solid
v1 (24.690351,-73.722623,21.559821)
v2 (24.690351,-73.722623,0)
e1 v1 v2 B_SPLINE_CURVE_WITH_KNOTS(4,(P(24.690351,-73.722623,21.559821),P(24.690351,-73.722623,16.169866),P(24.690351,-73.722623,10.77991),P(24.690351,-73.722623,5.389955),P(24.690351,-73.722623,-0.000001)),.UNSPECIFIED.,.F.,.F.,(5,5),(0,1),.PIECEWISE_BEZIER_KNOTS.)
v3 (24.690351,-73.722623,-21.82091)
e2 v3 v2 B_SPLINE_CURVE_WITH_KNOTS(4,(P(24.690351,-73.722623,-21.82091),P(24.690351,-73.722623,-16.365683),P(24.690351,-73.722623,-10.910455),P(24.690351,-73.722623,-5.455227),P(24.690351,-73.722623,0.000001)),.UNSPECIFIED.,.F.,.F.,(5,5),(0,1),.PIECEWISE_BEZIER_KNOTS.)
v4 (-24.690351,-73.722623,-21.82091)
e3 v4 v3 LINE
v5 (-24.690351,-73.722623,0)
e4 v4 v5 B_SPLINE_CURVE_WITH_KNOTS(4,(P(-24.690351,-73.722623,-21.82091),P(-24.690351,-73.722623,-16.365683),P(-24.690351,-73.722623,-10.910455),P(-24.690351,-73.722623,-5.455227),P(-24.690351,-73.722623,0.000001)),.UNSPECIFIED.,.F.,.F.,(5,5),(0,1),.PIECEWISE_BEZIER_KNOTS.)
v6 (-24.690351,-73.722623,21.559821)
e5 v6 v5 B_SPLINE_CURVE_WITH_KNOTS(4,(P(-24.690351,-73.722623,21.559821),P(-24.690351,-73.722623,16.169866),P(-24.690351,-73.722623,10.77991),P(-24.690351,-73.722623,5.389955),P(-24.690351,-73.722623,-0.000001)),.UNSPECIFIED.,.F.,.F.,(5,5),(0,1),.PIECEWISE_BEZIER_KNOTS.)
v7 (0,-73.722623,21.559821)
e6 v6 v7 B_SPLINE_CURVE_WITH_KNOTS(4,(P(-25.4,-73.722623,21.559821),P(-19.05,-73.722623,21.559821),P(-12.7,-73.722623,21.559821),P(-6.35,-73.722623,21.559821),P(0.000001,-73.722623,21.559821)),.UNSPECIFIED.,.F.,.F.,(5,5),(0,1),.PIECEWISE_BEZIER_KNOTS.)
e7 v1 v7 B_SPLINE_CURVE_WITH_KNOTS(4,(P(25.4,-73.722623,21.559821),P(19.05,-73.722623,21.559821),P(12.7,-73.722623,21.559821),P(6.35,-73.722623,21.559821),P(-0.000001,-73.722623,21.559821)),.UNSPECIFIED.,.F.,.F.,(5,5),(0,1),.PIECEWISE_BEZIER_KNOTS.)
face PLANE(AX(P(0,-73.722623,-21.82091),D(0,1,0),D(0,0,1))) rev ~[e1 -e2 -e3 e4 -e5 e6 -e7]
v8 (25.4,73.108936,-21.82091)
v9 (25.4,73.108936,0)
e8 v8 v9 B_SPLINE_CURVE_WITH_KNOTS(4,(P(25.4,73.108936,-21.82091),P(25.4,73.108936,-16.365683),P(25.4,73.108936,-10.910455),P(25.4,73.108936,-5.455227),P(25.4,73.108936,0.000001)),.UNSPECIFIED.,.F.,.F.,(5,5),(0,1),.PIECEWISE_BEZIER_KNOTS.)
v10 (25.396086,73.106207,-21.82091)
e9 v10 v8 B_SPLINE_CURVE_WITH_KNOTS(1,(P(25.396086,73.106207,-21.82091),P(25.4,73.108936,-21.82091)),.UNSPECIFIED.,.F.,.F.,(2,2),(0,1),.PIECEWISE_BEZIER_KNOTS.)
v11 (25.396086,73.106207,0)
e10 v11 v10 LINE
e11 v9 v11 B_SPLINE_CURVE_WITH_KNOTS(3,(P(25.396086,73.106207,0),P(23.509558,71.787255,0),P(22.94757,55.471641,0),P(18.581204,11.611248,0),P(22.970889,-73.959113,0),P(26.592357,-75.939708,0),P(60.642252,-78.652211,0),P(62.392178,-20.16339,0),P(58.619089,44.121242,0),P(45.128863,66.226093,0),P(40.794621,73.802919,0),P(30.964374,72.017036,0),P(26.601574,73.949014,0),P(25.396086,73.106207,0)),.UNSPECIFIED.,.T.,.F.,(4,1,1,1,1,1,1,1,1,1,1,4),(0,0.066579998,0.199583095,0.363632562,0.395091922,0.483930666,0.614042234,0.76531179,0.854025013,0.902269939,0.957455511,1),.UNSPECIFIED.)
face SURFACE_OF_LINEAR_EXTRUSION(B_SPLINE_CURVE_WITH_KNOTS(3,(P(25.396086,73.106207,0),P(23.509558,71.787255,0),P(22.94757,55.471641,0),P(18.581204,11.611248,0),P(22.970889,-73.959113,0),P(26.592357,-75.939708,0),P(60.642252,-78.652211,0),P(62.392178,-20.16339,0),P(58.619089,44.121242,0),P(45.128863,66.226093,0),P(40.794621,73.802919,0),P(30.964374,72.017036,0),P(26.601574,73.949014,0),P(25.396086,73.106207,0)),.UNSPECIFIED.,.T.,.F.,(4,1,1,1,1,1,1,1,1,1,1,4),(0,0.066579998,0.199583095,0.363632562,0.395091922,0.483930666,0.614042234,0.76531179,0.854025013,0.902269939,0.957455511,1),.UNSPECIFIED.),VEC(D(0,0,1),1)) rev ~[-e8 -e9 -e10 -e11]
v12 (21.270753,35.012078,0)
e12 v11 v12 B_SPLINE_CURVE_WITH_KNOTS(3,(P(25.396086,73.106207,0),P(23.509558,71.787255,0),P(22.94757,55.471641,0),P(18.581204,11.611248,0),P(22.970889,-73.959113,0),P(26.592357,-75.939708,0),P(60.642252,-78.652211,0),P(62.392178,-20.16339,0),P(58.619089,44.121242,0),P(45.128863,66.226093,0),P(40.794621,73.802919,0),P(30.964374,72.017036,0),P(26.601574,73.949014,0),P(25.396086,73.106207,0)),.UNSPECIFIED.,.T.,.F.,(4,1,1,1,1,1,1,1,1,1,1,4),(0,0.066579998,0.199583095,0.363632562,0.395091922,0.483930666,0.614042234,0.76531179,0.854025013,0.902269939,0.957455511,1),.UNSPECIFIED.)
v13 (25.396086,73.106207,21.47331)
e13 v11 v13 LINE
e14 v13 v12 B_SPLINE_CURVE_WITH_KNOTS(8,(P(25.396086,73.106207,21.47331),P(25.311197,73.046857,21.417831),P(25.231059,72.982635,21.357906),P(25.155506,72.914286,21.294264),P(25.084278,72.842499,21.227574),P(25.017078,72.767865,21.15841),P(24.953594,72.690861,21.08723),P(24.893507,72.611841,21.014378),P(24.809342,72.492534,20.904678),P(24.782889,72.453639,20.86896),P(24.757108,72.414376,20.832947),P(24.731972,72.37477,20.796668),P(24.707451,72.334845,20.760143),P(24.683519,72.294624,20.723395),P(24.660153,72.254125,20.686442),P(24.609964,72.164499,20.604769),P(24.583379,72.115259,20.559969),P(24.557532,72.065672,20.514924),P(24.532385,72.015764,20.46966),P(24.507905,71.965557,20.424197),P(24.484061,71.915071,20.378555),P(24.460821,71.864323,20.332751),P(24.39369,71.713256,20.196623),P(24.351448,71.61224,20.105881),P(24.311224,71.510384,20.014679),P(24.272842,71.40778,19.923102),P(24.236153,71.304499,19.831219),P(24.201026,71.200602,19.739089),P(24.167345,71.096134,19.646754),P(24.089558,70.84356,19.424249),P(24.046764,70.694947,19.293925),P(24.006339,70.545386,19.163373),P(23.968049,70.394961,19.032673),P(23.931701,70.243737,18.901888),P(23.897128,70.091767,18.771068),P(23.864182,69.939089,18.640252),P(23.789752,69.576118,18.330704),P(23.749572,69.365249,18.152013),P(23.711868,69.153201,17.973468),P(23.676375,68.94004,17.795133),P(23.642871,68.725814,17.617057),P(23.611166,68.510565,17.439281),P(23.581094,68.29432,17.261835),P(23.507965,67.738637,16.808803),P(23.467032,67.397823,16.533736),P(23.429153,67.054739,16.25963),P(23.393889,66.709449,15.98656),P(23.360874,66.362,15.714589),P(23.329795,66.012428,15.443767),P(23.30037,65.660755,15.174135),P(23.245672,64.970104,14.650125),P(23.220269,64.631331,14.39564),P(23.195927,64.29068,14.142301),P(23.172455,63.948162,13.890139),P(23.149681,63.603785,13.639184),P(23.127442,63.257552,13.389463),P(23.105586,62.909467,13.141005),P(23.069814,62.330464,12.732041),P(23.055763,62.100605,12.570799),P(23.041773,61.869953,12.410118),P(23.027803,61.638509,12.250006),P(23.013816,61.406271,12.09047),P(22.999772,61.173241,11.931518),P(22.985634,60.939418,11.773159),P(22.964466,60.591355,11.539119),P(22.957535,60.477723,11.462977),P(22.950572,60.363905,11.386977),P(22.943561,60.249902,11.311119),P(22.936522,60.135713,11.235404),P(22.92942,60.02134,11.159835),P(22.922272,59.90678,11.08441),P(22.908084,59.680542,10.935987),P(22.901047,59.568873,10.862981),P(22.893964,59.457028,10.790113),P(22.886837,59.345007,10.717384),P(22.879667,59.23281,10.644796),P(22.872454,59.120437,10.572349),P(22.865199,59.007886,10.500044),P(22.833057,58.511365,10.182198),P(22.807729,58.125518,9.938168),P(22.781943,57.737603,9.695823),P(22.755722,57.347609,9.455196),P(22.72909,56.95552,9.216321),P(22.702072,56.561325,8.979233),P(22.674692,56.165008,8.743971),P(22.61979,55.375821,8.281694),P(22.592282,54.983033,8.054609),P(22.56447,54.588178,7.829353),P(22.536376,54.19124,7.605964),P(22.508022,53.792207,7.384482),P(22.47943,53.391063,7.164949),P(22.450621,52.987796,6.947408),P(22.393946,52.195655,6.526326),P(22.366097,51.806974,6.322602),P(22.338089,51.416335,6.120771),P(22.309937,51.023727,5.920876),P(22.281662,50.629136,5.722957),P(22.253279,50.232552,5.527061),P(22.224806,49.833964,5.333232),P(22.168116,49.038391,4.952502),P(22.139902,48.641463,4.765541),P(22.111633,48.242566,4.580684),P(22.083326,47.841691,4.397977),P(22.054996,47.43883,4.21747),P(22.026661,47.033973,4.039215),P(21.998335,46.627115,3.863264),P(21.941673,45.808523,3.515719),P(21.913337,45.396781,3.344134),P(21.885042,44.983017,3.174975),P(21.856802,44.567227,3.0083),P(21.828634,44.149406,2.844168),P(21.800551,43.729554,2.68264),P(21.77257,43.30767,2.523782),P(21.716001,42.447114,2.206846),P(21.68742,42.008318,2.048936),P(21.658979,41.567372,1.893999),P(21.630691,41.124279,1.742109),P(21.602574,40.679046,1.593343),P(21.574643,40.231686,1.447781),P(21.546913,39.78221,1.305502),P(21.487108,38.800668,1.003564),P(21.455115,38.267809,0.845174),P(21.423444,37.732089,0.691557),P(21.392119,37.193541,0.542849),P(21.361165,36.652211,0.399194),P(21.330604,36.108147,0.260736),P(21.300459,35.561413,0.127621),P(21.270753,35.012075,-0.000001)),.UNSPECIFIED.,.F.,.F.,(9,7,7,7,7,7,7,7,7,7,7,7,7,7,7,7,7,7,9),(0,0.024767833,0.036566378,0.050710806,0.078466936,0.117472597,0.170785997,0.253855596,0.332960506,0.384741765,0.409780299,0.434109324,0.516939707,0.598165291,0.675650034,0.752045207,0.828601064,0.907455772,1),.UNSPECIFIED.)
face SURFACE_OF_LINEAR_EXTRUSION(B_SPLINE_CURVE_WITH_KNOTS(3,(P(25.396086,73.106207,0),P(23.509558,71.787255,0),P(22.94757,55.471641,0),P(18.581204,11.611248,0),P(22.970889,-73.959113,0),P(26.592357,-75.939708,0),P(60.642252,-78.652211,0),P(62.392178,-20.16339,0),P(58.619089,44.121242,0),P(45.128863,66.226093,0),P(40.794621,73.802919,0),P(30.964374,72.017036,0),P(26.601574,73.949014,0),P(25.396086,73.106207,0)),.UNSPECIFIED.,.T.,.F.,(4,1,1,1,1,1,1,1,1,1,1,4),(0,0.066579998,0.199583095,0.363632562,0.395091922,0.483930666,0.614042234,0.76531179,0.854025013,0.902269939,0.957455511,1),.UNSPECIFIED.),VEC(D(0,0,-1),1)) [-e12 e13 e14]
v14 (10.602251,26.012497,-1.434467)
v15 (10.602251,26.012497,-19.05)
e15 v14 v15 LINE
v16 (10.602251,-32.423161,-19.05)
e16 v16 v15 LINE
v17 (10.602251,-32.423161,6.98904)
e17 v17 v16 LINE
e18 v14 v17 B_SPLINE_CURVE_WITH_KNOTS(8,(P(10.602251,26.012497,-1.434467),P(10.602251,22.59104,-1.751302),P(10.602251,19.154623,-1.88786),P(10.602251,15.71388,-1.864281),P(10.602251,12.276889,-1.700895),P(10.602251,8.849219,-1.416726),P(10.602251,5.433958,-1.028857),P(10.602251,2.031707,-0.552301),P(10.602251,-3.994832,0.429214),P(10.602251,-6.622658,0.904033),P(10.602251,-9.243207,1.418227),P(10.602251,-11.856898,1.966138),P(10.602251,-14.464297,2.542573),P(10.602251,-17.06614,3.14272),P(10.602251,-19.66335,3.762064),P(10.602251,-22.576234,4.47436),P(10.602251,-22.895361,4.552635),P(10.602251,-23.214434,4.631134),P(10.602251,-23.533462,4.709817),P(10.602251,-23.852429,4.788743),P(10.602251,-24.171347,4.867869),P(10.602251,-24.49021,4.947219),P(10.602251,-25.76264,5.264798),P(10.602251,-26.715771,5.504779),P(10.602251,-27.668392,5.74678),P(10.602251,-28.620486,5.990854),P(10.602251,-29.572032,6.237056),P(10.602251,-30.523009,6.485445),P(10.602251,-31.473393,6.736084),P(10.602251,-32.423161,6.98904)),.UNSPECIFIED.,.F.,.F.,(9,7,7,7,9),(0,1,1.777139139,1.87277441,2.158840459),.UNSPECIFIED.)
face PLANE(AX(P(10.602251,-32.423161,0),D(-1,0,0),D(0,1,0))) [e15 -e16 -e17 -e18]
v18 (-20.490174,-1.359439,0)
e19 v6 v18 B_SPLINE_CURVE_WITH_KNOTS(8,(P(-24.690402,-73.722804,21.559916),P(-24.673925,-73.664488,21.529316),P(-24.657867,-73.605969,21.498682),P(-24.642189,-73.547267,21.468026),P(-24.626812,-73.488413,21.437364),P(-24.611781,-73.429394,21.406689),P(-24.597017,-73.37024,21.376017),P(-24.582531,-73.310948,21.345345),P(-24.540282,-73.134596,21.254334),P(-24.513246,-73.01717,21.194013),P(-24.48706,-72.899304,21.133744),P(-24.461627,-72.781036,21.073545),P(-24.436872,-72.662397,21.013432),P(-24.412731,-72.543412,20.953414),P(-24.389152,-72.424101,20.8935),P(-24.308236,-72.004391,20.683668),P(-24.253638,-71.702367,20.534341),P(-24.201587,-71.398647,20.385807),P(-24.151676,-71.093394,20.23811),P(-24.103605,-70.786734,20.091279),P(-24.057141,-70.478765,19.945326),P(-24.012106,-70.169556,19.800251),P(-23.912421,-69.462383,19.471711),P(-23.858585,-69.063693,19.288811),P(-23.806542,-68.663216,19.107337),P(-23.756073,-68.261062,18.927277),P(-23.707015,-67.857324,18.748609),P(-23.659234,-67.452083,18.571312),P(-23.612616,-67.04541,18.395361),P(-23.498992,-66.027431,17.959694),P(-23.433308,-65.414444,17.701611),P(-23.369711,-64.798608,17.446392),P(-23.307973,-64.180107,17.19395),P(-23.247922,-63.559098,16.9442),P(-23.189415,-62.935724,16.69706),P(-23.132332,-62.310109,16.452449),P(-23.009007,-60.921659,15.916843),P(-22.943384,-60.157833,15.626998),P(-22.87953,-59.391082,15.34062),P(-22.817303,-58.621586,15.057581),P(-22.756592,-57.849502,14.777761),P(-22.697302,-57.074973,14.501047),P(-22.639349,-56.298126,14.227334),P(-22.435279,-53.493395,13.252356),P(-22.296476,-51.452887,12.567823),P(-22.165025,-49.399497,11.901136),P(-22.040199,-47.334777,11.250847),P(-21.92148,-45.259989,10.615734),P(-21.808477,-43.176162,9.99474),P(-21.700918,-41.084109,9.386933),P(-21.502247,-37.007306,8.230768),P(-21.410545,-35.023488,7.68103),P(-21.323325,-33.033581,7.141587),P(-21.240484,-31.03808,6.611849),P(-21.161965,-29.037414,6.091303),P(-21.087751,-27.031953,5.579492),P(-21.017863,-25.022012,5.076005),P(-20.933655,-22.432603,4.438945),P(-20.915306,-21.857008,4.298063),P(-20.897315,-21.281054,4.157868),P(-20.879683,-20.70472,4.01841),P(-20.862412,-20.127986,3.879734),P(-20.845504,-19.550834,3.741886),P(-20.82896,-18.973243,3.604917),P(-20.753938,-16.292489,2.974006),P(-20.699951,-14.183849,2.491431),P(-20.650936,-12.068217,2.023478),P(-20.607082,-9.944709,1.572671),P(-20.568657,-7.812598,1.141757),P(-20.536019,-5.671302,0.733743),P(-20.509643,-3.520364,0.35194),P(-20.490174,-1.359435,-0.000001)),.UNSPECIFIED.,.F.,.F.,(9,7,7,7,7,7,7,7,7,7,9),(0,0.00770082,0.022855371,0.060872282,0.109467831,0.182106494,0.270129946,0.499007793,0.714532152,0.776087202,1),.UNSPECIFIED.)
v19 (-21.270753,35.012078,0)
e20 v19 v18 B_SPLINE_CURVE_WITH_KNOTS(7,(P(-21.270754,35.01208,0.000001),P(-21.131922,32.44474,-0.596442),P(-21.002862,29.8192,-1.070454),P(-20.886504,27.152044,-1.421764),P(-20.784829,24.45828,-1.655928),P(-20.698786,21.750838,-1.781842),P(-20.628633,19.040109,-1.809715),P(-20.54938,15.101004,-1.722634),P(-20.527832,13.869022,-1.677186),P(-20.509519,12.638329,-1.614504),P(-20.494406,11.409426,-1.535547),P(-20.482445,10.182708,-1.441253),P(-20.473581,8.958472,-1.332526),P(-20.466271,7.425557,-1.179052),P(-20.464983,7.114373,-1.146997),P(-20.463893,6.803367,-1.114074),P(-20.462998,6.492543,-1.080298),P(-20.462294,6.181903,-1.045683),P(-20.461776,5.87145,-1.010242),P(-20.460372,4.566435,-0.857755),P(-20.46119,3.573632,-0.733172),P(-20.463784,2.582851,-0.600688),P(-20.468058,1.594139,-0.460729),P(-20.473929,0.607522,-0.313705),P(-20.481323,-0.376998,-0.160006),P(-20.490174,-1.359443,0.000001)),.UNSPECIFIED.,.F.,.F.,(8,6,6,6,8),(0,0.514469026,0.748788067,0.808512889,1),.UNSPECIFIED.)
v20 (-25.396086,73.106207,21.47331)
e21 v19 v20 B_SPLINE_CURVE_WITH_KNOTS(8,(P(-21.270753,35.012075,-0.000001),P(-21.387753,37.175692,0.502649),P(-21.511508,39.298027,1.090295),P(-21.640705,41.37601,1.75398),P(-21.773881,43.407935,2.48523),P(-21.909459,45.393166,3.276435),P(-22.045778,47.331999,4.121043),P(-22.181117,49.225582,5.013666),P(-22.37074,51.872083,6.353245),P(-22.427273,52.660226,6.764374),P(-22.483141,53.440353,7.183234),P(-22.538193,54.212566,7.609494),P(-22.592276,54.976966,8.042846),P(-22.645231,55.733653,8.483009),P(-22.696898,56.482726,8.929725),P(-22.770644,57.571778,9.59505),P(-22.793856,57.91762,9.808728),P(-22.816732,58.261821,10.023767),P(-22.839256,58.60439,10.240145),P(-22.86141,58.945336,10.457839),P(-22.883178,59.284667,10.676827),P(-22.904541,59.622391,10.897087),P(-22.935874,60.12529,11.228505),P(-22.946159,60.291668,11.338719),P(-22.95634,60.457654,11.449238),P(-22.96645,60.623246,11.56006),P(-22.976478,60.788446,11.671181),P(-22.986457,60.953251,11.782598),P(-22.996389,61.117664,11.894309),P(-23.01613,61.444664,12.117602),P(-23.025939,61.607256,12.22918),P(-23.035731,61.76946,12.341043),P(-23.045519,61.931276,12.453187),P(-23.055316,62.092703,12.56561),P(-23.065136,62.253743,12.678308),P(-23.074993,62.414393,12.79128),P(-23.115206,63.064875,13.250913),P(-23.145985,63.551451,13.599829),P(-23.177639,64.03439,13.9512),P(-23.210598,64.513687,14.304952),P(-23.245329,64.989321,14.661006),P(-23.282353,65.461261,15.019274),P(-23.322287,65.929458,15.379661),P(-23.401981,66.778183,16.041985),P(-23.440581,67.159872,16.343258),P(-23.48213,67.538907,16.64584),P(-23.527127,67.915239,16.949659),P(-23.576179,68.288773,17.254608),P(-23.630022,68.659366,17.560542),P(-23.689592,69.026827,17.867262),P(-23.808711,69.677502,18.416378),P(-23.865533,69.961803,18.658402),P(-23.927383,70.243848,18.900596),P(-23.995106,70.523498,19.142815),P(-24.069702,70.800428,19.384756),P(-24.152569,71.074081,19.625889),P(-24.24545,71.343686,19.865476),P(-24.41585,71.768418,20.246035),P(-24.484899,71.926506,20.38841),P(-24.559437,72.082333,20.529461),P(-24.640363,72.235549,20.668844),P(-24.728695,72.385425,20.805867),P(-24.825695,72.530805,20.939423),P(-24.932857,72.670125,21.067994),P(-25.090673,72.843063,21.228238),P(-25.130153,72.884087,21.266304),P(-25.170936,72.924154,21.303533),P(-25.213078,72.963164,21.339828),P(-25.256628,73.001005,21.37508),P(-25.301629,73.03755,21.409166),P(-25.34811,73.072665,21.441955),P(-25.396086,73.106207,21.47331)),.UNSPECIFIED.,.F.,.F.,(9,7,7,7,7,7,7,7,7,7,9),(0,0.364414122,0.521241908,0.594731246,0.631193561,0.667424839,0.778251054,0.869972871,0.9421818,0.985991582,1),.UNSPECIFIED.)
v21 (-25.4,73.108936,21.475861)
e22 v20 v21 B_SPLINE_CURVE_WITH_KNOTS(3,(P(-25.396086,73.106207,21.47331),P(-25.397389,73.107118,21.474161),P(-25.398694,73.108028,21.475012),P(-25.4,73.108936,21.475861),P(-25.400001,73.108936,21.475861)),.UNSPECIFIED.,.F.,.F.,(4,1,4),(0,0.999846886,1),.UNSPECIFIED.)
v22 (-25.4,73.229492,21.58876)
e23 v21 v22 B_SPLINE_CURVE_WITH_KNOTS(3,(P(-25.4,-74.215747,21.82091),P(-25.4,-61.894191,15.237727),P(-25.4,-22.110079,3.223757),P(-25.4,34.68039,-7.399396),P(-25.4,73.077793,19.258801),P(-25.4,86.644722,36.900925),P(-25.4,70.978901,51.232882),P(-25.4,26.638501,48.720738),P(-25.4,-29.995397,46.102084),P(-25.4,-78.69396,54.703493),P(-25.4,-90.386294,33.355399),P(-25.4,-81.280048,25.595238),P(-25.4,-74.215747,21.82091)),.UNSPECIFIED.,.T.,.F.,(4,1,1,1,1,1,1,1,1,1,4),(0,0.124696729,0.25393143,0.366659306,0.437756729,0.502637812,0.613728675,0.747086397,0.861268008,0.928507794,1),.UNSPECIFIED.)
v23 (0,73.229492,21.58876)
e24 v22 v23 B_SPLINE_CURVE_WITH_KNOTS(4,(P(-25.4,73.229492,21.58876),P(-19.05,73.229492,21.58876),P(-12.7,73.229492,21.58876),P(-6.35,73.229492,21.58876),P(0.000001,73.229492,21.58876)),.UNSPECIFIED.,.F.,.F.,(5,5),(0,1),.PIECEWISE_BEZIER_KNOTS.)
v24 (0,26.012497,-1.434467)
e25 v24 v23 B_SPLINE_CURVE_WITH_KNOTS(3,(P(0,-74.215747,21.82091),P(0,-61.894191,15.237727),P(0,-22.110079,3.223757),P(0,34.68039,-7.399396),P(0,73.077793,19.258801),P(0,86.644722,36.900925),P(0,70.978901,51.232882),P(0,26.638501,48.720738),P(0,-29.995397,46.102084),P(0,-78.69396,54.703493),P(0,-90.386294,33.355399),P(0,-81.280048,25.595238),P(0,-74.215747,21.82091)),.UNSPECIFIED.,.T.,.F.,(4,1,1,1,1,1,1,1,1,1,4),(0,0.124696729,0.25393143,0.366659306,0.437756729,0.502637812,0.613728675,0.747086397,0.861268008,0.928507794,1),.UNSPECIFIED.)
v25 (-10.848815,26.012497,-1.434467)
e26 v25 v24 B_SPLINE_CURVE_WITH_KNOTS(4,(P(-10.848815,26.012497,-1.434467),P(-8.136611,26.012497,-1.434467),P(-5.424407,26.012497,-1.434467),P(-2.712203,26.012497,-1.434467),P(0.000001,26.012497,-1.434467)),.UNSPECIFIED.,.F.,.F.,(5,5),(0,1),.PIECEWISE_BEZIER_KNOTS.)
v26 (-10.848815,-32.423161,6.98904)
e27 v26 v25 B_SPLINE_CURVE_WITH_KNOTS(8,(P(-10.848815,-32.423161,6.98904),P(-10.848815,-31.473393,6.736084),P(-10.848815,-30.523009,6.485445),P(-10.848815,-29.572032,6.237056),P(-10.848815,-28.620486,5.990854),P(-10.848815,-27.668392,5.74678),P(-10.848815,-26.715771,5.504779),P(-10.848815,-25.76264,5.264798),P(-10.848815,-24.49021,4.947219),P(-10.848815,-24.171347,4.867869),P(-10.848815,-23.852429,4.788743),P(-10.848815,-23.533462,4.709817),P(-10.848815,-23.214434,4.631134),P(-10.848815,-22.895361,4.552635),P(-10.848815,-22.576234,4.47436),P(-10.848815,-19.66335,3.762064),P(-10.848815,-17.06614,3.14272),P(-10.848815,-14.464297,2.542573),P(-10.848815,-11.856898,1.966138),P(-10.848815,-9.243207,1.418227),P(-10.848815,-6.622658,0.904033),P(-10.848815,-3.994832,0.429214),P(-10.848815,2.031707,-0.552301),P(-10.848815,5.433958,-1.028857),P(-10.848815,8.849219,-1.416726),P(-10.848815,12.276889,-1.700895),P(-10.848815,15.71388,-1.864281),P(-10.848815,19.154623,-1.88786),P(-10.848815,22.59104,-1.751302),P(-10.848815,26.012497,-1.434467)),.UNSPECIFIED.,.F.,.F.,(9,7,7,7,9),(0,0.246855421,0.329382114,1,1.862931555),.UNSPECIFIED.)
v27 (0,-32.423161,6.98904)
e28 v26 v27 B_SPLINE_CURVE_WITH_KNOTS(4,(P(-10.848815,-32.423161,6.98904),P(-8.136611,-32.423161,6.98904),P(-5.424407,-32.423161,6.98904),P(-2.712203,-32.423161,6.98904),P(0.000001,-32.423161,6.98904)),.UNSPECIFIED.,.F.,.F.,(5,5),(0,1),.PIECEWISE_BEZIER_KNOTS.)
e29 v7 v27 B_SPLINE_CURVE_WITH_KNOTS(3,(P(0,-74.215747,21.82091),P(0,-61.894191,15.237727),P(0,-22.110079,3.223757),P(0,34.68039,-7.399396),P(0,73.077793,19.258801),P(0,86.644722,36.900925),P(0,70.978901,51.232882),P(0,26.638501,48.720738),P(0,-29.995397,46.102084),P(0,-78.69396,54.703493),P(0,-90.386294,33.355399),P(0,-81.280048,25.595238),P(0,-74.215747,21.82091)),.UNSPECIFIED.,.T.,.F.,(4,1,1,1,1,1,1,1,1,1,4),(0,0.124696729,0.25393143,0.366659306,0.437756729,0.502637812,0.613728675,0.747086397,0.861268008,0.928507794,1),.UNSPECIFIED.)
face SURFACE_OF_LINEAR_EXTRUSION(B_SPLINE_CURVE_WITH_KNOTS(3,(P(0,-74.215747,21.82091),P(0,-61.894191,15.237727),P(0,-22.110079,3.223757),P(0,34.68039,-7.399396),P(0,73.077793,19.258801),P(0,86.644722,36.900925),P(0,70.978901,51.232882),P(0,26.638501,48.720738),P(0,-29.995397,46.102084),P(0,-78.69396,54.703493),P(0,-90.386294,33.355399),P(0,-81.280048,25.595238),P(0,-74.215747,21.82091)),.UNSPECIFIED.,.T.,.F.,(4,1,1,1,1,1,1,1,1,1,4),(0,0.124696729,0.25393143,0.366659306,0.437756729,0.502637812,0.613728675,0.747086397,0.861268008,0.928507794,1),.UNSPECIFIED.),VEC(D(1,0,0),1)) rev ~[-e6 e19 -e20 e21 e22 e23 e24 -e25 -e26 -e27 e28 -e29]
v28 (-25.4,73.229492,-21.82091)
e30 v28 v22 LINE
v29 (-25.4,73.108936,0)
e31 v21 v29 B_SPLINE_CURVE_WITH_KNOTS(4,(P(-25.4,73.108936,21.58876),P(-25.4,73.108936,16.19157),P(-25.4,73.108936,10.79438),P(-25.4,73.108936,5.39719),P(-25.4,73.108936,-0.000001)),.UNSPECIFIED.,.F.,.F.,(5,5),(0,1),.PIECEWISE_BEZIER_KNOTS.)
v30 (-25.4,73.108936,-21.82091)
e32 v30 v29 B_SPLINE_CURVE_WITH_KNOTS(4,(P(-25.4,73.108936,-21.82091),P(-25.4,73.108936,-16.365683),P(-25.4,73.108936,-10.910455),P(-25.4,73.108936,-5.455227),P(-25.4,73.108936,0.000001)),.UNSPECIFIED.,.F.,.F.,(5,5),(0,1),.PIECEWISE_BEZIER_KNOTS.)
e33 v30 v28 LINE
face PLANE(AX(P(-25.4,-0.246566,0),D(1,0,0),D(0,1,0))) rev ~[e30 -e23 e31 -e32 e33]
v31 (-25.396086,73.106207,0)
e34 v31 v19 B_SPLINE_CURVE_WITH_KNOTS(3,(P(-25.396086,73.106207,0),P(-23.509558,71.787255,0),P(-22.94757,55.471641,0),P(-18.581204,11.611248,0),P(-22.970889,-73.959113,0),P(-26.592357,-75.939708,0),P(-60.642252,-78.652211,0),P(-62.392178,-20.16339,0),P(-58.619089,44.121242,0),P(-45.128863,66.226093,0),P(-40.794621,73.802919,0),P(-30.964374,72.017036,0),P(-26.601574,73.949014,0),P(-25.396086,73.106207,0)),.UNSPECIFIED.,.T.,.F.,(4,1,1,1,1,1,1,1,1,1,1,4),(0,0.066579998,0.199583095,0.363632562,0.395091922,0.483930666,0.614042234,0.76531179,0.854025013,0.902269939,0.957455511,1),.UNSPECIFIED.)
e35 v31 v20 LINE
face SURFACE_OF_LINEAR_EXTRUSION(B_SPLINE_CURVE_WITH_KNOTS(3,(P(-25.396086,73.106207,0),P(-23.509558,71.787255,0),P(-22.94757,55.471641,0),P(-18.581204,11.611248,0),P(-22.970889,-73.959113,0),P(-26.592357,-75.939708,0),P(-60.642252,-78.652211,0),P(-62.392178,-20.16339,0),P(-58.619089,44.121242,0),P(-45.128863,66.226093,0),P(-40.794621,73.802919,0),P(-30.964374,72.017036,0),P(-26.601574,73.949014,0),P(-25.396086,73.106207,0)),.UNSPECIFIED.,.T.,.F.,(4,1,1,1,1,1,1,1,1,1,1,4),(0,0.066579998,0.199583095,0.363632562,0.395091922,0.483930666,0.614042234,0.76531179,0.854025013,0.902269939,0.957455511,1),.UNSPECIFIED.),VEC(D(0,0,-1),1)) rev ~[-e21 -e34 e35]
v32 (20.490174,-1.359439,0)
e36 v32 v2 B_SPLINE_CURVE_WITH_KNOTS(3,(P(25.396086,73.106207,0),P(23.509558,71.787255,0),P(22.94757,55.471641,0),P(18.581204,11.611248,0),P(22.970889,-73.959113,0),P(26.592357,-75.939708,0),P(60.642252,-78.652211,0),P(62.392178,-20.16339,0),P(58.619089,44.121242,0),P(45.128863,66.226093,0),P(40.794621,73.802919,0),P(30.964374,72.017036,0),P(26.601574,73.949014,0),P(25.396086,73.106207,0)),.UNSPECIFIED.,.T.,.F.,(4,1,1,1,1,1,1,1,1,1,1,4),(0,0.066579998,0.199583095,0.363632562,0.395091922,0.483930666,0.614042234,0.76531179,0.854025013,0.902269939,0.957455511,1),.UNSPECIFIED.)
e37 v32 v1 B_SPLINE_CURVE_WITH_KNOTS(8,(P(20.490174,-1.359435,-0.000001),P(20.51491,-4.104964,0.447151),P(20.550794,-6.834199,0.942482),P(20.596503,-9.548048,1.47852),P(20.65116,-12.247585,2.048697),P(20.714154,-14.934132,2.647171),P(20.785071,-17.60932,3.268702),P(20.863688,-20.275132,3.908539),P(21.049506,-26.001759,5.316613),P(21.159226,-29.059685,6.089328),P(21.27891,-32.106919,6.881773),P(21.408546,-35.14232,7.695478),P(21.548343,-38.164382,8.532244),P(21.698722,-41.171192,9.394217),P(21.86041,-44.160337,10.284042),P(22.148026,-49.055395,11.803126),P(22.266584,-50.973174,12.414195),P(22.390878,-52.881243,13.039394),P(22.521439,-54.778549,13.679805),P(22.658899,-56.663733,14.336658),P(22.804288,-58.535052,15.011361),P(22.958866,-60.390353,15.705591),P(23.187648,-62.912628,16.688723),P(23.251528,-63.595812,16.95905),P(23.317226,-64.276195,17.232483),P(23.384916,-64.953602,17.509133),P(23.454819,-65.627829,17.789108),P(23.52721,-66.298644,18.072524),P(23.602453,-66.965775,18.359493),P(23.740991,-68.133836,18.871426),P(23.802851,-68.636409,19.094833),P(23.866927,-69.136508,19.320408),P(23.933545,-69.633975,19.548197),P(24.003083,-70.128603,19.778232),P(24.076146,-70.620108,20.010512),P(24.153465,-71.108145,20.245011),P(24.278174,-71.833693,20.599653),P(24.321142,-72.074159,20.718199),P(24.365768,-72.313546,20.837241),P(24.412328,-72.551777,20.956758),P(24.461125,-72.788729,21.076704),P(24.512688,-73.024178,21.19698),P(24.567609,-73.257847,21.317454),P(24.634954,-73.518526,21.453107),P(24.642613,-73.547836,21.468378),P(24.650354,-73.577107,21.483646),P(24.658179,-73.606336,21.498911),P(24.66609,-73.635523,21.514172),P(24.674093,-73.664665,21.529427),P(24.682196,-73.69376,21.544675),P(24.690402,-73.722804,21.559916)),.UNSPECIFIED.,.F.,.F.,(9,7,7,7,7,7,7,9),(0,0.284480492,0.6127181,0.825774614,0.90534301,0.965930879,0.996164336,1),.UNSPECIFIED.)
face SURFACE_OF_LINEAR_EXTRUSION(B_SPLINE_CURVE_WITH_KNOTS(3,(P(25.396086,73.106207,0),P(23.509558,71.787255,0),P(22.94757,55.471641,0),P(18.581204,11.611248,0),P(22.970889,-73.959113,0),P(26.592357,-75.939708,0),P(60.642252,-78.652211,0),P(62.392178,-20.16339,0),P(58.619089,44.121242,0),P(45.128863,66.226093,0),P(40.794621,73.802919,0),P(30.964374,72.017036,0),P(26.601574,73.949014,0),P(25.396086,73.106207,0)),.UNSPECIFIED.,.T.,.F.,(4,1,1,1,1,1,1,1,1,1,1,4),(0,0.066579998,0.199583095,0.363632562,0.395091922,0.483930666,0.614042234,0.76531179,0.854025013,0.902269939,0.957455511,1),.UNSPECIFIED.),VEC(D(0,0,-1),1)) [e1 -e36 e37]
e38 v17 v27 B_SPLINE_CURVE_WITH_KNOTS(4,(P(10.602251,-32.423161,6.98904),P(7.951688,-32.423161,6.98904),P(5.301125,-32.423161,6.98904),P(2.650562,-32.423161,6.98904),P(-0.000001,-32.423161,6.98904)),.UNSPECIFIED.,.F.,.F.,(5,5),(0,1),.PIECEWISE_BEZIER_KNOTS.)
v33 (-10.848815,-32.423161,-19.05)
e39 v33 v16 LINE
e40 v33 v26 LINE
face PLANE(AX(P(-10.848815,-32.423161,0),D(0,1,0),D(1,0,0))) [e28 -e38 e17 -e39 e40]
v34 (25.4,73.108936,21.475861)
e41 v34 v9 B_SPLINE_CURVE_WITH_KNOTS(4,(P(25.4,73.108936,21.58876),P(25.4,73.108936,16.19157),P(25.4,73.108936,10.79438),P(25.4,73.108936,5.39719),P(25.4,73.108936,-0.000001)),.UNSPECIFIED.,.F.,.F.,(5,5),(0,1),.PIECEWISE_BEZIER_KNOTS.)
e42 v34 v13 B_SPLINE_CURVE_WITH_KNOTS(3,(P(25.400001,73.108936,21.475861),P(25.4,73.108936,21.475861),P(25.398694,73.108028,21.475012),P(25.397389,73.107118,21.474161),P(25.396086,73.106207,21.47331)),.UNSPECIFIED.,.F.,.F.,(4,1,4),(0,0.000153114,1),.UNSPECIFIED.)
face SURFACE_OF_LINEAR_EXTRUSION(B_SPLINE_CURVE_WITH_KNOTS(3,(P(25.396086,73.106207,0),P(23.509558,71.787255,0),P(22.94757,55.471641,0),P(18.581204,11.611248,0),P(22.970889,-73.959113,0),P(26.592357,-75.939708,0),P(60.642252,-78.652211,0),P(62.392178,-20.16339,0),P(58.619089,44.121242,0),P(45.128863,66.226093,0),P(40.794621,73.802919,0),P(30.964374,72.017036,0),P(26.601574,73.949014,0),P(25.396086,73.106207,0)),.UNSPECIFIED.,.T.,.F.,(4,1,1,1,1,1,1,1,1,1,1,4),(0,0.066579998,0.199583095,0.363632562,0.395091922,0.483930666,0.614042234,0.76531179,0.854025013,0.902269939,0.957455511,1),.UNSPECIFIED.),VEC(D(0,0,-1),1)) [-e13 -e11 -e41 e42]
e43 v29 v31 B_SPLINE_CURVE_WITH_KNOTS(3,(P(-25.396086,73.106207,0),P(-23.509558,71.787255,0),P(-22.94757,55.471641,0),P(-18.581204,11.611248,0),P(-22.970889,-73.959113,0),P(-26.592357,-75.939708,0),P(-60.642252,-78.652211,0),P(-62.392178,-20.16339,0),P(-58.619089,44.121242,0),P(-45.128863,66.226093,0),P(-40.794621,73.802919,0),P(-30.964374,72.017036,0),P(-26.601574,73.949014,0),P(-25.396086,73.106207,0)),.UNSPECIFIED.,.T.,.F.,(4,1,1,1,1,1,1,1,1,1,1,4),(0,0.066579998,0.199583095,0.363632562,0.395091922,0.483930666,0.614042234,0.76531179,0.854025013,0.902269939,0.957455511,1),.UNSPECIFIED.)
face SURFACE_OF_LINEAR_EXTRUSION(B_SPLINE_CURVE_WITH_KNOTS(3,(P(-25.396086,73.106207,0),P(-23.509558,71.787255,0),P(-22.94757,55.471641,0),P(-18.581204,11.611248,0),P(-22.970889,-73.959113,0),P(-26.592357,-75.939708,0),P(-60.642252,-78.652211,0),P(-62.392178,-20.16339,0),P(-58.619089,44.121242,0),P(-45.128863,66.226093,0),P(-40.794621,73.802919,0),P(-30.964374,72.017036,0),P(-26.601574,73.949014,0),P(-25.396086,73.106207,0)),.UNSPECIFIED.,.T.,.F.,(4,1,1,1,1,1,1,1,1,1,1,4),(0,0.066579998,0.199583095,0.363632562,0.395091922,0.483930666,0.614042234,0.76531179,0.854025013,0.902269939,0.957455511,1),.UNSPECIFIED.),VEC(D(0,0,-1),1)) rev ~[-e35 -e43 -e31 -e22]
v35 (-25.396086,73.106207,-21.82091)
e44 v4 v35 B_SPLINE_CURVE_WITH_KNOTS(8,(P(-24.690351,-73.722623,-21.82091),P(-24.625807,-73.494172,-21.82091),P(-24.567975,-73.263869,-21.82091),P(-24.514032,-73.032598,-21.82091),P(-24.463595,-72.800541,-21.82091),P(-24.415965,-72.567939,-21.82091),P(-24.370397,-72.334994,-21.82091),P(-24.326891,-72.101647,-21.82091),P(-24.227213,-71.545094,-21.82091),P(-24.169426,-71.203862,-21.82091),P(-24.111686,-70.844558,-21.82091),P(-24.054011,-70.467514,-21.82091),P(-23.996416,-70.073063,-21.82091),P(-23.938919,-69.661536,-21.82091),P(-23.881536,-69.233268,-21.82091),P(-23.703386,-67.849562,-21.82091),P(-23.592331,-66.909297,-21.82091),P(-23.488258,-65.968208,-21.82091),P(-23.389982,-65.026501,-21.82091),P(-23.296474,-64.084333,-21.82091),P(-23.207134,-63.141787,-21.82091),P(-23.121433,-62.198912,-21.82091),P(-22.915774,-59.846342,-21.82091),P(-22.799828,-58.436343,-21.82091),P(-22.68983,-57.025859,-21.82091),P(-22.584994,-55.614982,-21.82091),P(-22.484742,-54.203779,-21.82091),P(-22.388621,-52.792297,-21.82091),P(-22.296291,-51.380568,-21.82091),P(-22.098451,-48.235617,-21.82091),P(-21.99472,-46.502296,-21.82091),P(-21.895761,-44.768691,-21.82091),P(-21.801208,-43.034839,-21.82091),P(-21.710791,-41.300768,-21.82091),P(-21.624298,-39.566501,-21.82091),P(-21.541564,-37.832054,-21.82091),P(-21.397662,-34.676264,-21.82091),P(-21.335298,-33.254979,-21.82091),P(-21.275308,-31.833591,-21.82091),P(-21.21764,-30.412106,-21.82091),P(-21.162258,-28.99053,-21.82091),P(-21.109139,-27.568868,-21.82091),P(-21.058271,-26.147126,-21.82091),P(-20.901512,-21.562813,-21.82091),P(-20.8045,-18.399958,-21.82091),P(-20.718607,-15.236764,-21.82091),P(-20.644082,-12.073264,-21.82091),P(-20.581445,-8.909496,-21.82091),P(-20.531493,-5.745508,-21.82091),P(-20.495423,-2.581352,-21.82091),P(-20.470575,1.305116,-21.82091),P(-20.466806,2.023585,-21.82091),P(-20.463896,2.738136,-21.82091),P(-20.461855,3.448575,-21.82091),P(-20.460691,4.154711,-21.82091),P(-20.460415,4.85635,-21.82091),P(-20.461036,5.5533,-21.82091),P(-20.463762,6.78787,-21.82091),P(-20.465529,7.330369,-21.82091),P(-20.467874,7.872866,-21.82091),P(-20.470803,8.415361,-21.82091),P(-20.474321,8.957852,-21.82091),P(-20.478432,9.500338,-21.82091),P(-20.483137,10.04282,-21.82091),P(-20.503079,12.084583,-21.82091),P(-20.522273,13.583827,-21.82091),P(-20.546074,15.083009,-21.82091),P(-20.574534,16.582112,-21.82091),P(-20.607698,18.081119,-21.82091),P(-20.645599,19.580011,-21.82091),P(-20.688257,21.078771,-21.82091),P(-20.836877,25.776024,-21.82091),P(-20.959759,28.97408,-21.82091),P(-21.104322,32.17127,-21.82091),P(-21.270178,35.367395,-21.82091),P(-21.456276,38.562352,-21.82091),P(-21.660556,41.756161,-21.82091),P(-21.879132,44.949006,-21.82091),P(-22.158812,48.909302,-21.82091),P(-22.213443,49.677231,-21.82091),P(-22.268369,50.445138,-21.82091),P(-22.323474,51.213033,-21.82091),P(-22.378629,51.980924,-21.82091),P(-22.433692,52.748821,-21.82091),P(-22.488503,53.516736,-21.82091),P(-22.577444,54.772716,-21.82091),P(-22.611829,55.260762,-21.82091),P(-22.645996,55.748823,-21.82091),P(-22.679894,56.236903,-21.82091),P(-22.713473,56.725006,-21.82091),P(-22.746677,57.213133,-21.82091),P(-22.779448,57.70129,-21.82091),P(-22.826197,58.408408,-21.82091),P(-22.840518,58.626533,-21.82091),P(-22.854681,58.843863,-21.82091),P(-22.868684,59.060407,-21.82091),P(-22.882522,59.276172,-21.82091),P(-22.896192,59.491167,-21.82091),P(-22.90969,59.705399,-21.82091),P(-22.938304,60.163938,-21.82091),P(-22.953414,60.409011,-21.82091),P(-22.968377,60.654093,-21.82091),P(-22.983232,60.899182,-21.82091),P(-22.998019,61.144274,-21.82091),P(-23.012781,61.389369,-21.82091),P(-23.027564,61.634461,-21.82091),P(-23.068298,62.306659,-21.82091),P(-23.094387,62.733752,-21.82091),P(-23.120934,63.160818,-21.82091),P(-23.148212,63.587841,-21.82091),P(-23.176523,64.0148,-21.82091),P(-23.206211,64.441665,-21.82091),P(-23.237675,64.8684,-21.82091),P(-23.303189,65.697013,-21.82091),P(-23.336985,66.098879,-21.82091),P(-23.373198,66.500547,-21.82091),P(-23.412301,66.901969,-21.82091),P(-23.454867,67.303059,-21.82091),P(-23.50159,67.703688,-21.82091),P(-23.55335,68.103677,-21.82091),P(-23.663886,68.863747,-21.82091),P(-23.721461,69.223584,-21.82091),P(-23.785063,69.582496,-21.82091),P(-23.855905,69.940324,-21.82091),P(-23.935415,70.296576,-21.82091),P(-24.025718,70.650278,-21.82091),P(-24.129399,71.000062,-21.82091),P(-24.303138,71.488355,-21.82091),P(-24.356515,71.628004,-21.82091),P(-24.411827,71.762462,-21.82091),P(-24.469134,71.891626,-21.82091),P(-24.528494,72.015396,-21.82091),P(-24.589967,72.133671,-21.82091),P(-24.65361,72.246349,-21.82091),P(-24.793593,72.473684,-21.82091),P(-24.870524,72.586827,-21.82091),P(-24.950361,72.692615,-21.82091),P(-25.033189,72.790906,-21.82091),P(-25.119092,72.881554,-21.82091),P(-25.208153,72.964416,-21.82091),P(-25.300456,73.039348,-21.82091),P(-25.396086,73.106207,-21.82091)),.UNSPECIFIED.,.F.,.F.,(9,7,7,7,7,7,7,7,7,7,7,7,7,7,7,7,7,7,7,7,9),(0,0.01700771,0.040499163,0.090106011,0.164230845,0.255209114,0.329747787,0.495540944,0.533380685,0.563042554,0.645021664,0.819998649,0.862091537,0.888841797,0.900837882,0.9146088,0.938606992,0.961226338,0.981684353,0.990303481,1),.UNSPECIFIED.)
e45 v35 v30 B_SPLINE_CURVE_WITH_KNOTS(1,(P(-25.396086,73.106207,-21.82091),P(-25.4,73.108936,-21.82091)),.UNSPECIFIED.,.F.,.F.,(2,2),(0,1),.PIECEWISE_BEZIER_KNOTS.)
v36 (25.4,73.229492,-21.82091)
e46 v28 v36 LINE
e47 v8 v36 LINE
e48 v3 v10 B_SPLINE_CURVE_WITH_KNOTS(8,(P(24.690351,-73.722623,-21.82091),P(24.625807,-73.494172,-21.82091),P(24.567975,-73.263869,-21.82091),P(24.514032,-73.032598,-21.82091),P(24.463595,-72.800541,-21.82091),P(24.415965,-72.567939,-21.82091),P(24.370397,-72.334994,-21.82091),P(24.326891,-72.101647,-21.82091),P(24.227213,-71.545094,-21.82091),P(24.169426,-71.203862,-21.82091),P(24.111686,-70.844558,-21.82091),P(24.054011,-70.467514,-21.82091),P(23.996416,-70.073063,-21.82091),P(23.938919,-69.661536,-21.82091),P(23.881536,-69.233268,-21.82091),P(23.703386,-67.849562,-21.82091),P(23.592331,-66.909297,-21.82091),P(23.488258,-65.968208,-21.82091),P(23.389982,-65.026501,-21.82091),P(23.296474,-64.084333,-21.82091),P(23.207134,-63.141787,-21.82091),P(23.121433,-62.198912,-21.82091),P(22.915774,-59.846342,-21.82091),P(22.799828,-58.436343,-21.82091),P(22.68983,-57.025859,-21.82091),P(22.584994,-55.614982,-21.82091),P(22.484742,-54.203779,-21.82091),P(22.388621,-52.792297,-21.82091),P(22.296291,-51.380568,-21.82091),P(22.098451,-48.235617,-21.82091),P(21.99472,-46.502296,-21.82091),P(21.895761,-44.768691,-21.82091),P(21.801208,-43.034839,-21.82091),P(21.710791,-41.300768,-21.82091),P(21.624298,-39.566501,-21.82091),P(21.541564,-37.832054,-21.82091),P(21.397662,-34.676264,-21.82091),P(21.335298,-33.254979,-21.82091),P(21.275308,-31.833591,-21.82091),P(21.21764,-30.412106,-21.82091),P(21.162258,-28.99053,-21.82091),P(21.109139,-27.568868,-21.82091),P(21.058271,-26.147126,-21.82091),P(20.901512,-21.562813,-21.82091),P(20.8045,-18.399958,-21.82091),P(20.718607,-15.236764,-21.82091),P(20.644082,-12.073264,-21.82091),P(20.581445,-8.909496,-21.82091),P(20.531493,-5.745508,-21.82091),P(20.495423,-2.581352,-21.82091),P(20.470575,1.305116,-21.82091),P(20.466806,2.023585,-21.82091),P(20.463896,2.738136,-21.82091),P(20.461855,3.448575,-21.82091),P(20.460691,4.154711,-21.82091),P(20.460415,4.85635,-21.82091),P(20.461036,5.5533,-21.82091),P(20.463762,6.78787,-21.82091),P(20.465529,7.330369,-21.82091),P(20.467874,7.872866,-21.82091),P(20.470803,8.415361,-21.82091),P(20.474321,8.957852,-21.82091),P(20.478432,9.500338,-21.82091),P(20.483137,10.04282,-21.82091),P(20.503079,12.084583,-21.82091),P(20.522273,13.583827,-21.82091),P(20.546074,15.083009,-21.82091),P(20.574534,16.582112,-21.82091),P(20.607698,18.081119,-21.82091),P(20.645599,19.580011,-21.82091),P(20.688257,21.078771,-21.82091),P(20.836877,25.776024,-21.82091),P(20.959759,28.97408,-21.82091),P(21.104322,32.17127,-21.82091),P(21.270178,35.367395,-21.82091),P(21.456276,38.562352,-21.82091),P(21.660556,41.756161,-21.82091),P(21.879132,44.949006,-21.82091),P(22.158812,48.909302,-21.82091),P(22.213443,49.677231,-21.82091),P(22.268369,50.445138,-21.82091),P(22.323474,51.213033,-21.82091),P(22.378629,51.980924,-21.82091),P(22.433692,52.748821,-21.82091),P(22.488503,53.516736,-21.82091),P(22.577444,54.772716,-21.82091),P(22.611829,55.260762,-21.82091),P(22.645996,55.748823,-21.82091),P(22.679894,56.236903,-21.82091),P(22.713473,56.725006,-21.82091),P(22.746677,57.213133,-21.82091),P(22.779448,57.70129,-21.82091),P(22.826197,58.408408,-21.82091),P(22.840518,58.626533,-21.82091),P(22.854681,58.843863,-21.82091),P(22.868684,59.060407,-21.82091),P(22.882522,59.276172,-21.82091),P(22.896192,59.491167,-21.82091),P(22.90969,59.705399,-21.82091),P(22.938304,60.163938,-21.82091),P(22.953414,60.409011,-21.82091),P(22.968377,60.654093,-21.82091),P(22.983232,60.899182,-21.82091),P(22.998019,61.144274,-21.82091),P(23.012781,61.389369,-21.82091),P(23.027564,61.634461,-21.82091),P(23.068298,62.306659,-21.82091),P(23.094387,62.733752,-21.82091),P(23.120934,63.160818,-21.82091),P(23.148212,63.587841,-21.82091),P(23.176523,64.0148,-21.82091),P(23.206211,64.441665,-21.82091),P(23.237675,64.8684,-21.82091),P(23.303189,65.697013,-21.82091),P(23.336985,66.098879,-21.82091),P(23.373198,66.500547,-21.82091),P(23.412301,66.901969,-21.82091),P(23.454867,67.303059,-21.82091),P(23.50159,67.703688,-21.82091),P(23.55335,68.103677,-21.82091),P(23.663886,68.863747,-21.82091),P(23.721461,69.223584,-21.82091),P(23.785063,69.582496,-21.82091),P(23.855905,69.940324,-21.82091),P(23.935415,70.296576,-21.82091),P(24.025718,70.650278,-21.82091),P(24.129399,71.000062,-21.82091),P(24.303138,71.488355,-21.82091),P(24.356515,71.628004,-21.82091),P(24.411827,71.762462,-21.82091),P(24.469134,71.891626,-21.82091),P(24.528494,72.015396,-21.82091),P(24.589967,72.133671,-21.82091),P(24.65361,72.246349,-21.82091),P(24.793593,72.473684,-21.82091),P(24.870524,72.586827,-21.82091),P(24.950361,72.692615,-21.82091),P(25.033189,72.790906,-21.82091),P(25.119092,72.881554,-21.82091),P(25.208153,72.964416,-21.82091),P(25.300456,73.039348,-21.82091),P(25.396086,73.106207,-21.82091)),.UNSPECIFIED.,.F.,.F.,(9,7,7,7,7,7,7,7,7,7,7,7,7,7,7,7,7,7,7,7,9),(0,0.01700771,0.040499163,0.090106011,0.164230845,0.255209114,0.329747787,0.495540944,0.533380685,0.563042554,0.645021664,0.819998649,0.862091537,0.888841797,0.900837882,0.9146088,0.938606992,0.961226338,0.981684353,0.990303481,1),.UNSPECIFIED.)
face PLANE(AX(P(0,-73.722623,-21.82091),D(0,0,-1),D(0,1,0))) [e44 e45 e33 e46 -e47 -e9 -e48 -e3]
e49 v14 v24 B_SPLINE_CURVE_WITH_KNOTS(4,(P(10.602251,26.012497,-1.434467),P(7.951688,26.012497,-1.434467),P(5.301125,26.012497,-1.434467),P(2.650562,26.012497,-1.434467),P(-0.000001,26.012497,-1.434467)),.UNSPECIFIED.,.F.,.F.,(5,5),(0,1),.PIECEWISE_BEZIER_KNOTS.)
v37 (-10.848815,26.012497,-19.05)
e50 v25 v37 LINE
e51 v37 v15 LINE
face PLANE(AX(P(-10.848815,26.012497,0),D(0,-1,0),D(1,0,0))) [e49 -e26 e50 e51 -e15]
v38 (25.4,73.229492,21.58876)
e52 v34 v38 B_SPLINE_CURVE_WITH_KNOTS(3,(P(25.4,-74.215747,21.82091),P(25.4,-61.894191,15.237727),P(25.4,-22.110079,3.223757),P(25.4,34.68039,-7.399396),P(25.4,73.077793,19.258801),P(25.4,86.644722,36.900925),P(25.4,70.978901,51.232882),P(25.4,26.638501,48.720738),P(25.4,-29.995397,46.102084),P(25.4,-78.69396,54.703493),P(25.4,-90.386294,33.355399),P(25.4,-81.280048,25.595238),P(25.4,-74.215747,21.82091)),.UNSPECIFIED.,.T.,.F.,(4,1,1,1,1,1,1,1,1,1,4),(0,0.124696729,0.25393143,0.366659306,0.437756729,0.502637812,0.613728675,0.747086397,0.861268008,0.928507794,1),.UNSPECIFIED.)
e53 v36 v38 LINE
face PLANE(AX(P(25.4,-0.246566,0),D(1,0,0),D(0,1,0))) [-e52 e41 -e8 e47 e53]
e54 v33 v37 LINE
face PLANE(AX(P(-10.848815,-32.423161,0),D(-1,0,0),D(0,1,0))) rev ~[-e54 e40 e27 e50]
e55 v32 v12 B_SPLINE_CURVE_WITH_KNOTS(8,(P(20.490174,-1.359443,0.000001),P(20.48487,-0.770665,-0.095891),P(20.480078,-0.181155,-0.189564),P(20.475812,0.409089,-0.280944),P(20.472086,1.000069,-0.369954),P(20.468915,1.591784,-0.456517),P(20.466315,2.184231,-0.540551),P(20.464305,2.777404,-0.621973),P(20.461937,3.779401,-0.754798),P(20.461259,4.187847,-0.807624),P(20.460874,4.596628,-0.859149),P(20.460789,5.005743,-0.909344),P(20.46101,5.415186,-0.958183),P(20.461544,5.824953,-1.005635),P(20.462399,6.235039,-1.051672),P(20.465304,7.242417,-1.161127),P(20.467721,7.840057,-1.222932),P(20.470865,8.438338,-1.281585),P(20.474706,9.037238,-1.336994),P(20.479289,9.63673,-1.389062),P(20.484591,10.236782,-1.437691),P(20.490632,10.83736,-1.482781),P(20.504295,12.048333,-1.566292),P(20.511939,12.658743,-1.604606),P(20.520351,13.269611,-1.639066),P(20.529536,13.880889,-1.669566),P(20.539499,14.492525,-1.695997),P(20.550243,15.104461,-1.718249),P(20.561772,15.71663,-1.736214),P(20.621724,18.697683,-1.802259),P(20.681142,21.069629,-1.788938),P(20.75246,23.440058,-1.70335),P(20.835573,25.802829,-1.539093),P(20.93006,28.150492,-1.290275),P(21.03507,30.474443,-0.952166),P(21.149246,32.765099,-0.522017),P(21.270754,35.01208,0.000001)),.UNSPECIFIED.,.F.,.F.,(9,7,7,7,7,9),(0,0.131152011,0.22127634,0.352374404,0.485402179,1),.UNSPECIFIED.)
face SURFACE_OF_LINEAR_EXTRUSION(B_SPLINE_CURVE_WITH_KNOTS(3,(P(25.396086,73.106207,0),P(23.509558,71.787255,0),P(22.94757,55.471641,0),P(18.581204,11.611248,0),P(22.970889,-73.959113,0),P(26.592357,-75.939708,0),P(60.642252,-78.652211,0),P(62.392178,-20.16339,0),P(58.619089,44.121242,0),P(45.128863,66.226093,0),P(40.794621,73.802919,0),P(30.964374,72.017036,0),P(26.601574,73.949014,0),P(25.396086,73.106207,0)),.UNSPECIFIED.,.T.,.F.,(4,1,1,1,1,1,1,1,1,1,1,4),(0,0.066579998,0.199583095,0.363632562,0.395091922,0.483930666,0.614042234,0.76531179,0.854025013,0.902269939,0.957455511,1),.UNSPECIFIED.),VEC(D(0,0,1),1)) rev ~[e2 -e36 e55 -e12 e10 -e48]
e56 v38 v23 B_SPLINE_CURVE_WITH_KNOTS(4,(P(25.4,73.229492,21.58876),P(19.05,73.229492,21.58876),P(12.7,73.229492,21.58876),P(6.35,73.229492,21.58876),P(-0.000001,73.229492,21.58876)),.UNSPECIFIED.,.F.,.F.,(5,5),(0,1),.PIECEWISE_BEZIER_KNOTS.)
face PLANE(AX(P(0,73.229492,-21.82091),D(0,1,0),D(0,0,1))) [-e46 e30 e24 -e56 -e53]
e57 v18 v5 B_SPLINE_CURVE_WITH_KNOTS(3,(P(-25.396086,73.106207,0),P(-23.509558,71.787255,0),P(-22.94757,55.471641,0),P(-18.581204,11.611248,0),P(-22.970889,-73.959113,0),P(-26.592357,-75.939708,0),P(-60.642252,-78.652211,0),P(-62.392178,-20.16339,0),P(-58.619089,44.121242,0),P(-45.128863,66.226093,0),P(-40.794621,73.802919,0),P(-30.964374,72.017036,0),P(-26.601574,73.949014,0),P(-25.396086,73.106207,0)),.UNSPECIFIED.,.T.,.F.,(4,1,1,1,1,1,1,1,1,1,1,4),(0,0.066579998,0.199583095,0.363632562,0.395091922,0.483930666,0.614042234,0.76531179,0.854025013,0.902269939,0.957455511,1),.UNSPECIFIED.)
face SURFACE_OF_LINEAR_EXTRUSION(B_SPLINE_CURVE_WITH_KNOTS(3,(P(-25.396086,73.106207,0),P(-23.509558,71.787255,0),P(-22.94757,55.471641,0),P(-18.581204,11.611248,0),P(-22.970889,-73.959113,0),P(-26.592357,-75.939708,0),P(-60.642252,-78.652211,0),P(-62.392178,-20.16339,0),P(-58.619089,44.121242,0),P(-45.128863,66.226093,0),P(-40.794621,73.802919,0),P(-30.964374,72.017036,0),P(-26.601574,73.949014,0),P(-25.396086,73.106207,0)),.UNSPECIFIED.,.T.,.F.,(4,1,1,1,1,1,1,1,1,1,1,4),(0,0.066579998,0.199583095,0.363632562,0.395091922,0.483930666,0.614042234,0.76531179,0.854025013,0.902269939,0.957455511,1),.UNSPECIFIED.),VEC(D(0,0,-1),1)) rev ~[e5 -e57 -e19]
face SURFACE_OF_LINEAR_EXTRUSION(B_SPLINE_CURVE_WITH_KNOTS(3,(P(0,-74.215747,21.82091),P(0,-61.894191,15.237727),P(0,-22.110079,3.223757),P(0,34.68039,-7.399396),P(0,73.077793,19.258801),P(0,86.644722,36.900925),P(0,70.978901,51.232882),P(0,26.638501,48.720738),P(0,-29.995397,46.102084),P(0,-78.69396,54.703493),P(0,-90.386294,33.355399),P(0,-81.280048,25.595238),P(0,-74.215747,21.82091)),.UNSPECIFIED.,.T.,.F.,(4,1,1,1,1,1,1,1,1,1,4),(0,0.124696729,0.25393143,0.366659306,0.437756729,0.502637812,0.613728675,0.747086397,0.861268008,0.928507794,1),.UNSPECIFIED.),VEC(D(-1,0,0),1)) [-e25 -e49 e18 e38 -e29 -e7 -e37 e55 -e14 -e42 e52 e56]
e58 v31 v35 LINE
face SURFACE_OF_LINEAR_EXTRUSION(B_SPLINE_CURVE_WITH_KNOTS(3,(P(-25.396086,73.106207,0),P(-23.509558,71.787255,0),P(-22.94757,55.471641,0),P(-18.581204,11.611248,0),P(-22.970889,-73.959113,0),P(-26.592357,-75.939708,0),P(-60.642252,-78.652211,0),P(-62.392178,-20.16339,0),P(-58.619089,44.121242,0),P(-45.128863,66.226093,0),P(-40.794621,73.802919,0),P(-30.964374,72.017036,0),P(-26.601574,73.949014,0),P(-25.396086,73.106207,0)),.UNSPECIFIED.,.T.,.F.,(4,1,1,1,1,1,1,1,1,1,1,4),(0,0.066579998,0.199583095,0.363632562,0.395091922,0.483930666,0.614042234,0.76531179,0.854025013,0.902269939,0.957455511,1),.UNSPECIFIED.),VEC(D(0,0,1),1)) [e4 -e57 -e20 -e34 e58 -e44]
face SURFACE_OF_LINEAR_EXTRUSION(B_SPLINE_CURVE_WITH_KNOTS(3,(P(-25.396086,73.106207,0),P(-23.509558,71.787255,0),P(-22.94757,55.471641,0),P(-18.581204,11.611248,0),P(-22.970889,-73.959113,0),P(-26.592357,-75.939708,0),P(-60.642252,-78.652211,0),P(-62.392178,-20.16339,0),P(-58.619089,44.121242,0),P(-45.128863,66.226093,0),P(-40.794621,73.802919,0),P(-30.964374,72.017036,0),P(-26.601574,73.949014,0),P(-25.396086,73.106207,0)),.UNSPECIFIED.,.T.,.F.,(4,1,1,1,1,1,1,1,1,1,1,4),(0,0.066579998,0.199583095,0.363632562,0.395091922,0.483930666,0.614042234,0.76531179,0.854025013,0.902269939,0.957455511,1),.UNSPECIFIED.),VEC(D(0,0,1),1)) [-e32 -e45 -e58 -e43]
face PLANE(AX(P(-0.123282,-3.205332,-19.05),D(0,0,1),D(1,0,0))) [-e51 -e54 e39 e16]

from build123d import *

# Parameters (mm, degrees)
F0_W          = 146.9521149993
F0_H          = 43.64182055
F1_DEPTH      = 25.4
F1_DEPTH_BACK = 25.4
F3_DEPTH      = 25.4
F3_DEPTH_BACK = 25.4
F5_DEPTH      = 25.4
F5_DEPTH_BACK = 25.4
F6_W          = 21.4510653168
F6_H          = 58.435657993
F7_DEPTH      = 19.05
F7_DEPTH_BACK = 19.05


with BuildPart() as f1:
    # F0 (on Right) → F1 (new body, two sides)
    with BuildSketch(Plane.YZ) as f1_sk:
        with Locations((-0.246565789, 0)):
            Rectangle(F0_W, F0_H)
    extrude(amount=F1_DEPTH)
    extrude(f1_sk.sketch, amount=-F1_DEPTH_BACK)

    # F2 (on Right) → F3 (cut, two sides)
    with BuildSketch(Plane.YZ) as f3_sk:
        with BuildLine():
            add(Edge.make_bspline(
                [(-74.215747416, 21.820910275), (-61.894191177, 15.2377273736), (-22.1100792082, 3.2237569893), (34.6803899351, -7.3993956262), (73.077793108, 19.258801403), (86.6447215634, 36.9009252345), (70.9789009852, 51.2328822131), (26.6385008912, 48.7207377435), (-29.9953971871, 46.1020839952), (-78.6939597066, 54.7034933177), (-90.3862941587, 33.3553993527), (-81.2800484867, 25.5952375691), (-74.215747416, 21.820910275)],
                knots=[0, 0, 0, 0, 0.1246967294, 0.2539314303, 0.3666593058, 0.4377567292, 0.5026378116, 0.6137286746, 0.7470863969, 0.8612680076, 0.9285077938, 1, 1, 1, 1], degree=3))
        make_face()
    extrude(amount=-F3_DEPTH, mode=Mode.SUBTRACT)
    extrude(f3_sk.sketch, amount=F3_DEPTH_BACK, mode=Mode.SUBTRACT)

    # F4 (on Top) → F5 (cut, two sides)
    with BuildSketch(Plane.XY) as f5_sk:
        with BuildLine():
            add(Edge.make_bspline(
                [(-25.3960862756, 73.1062069535), (-23.5095576316, 71.7872554287), (-22.9475698865, 55.4716414881), (-18.5812036149, 11.6112478816), (-22.9708888623, -73.9591128277), (-26.5923572766, -75.9397077273), (-60.6422517347, -78.6522113233), (-62.392178381, -20.1633902273), (-58.61908902, 44.1212419737), (-45.1288634077, 66.2260932479), (-40.7946206151, 73.8029194333), (-30.9643742623, 72.0170355029), (-26.6015743948, 73.949014402), (-25.3960862756, 73.1062069535)],
                knots=[0, 0, 0, 0, 0.0665799983, 0.1995830948, 0.3636325623, 0.3950919221, 0.4839306655, 0.6140422336, 0.7653117901, 0.854025013, 0.9022699385, 0.9574555111, 1, 1, 1, 1], degree=3))
        make_face()
        with BuildLine():
            add(Edge.make_bspline(
                [(25.3960862756, 73.1062069535), (23.5095576316, 71.7872554287), (22.9475698865, 55.4716414881), (18.5812036149, 11.6112478816), (22.9708888623, -73.9591128277), (26.5923572766, -75.9397077273), (60.6422517347, -78.6522113233), (62.392178381, -20.1633902273), (58.61908902, 44.1212419737), (45.1288634077, 66.2260932479), (40.7946206151, 73.8029194333), (30.9643742623, 72.0170355029), (26.6015743948, 73.949014402), (25.3960862756, 73.1062069535)],
                knots=[0, 0, 0, 0, 0.0665799983, 0.1995830948, 0.3636325623, 0.3950919221, 0.4839306655, 0.6140422336, 0.7653117901, 0.854025013, 0.9022699385, 0.9574555111, 1, 1, 1, 1], degree=3))
        make_face()
    extrude(amount=-F5_DEPTH, mode=Mode.SUBTRACT)
    extrude(f5_sk.sketch, amount=F5_DEPTH_BACK, mode=Mode.SUBTRACT)

    # F6 (on Top) → F7 (cut, two sides)
    with BuildSketch(Plane.XY) as f7_sk:
        with Locations((-0.1232819632, -3.2053319737)):
            Rectangle(F6_W, F6_H)
    extrude(amount=-F7_DEPTH, mode=Mode.SUBTRACT)
    extrude(f7_sk.sketch, amount=F7_DEPTH_BACK, mode=Mode.SUBTRACT)


solid = f1.part
